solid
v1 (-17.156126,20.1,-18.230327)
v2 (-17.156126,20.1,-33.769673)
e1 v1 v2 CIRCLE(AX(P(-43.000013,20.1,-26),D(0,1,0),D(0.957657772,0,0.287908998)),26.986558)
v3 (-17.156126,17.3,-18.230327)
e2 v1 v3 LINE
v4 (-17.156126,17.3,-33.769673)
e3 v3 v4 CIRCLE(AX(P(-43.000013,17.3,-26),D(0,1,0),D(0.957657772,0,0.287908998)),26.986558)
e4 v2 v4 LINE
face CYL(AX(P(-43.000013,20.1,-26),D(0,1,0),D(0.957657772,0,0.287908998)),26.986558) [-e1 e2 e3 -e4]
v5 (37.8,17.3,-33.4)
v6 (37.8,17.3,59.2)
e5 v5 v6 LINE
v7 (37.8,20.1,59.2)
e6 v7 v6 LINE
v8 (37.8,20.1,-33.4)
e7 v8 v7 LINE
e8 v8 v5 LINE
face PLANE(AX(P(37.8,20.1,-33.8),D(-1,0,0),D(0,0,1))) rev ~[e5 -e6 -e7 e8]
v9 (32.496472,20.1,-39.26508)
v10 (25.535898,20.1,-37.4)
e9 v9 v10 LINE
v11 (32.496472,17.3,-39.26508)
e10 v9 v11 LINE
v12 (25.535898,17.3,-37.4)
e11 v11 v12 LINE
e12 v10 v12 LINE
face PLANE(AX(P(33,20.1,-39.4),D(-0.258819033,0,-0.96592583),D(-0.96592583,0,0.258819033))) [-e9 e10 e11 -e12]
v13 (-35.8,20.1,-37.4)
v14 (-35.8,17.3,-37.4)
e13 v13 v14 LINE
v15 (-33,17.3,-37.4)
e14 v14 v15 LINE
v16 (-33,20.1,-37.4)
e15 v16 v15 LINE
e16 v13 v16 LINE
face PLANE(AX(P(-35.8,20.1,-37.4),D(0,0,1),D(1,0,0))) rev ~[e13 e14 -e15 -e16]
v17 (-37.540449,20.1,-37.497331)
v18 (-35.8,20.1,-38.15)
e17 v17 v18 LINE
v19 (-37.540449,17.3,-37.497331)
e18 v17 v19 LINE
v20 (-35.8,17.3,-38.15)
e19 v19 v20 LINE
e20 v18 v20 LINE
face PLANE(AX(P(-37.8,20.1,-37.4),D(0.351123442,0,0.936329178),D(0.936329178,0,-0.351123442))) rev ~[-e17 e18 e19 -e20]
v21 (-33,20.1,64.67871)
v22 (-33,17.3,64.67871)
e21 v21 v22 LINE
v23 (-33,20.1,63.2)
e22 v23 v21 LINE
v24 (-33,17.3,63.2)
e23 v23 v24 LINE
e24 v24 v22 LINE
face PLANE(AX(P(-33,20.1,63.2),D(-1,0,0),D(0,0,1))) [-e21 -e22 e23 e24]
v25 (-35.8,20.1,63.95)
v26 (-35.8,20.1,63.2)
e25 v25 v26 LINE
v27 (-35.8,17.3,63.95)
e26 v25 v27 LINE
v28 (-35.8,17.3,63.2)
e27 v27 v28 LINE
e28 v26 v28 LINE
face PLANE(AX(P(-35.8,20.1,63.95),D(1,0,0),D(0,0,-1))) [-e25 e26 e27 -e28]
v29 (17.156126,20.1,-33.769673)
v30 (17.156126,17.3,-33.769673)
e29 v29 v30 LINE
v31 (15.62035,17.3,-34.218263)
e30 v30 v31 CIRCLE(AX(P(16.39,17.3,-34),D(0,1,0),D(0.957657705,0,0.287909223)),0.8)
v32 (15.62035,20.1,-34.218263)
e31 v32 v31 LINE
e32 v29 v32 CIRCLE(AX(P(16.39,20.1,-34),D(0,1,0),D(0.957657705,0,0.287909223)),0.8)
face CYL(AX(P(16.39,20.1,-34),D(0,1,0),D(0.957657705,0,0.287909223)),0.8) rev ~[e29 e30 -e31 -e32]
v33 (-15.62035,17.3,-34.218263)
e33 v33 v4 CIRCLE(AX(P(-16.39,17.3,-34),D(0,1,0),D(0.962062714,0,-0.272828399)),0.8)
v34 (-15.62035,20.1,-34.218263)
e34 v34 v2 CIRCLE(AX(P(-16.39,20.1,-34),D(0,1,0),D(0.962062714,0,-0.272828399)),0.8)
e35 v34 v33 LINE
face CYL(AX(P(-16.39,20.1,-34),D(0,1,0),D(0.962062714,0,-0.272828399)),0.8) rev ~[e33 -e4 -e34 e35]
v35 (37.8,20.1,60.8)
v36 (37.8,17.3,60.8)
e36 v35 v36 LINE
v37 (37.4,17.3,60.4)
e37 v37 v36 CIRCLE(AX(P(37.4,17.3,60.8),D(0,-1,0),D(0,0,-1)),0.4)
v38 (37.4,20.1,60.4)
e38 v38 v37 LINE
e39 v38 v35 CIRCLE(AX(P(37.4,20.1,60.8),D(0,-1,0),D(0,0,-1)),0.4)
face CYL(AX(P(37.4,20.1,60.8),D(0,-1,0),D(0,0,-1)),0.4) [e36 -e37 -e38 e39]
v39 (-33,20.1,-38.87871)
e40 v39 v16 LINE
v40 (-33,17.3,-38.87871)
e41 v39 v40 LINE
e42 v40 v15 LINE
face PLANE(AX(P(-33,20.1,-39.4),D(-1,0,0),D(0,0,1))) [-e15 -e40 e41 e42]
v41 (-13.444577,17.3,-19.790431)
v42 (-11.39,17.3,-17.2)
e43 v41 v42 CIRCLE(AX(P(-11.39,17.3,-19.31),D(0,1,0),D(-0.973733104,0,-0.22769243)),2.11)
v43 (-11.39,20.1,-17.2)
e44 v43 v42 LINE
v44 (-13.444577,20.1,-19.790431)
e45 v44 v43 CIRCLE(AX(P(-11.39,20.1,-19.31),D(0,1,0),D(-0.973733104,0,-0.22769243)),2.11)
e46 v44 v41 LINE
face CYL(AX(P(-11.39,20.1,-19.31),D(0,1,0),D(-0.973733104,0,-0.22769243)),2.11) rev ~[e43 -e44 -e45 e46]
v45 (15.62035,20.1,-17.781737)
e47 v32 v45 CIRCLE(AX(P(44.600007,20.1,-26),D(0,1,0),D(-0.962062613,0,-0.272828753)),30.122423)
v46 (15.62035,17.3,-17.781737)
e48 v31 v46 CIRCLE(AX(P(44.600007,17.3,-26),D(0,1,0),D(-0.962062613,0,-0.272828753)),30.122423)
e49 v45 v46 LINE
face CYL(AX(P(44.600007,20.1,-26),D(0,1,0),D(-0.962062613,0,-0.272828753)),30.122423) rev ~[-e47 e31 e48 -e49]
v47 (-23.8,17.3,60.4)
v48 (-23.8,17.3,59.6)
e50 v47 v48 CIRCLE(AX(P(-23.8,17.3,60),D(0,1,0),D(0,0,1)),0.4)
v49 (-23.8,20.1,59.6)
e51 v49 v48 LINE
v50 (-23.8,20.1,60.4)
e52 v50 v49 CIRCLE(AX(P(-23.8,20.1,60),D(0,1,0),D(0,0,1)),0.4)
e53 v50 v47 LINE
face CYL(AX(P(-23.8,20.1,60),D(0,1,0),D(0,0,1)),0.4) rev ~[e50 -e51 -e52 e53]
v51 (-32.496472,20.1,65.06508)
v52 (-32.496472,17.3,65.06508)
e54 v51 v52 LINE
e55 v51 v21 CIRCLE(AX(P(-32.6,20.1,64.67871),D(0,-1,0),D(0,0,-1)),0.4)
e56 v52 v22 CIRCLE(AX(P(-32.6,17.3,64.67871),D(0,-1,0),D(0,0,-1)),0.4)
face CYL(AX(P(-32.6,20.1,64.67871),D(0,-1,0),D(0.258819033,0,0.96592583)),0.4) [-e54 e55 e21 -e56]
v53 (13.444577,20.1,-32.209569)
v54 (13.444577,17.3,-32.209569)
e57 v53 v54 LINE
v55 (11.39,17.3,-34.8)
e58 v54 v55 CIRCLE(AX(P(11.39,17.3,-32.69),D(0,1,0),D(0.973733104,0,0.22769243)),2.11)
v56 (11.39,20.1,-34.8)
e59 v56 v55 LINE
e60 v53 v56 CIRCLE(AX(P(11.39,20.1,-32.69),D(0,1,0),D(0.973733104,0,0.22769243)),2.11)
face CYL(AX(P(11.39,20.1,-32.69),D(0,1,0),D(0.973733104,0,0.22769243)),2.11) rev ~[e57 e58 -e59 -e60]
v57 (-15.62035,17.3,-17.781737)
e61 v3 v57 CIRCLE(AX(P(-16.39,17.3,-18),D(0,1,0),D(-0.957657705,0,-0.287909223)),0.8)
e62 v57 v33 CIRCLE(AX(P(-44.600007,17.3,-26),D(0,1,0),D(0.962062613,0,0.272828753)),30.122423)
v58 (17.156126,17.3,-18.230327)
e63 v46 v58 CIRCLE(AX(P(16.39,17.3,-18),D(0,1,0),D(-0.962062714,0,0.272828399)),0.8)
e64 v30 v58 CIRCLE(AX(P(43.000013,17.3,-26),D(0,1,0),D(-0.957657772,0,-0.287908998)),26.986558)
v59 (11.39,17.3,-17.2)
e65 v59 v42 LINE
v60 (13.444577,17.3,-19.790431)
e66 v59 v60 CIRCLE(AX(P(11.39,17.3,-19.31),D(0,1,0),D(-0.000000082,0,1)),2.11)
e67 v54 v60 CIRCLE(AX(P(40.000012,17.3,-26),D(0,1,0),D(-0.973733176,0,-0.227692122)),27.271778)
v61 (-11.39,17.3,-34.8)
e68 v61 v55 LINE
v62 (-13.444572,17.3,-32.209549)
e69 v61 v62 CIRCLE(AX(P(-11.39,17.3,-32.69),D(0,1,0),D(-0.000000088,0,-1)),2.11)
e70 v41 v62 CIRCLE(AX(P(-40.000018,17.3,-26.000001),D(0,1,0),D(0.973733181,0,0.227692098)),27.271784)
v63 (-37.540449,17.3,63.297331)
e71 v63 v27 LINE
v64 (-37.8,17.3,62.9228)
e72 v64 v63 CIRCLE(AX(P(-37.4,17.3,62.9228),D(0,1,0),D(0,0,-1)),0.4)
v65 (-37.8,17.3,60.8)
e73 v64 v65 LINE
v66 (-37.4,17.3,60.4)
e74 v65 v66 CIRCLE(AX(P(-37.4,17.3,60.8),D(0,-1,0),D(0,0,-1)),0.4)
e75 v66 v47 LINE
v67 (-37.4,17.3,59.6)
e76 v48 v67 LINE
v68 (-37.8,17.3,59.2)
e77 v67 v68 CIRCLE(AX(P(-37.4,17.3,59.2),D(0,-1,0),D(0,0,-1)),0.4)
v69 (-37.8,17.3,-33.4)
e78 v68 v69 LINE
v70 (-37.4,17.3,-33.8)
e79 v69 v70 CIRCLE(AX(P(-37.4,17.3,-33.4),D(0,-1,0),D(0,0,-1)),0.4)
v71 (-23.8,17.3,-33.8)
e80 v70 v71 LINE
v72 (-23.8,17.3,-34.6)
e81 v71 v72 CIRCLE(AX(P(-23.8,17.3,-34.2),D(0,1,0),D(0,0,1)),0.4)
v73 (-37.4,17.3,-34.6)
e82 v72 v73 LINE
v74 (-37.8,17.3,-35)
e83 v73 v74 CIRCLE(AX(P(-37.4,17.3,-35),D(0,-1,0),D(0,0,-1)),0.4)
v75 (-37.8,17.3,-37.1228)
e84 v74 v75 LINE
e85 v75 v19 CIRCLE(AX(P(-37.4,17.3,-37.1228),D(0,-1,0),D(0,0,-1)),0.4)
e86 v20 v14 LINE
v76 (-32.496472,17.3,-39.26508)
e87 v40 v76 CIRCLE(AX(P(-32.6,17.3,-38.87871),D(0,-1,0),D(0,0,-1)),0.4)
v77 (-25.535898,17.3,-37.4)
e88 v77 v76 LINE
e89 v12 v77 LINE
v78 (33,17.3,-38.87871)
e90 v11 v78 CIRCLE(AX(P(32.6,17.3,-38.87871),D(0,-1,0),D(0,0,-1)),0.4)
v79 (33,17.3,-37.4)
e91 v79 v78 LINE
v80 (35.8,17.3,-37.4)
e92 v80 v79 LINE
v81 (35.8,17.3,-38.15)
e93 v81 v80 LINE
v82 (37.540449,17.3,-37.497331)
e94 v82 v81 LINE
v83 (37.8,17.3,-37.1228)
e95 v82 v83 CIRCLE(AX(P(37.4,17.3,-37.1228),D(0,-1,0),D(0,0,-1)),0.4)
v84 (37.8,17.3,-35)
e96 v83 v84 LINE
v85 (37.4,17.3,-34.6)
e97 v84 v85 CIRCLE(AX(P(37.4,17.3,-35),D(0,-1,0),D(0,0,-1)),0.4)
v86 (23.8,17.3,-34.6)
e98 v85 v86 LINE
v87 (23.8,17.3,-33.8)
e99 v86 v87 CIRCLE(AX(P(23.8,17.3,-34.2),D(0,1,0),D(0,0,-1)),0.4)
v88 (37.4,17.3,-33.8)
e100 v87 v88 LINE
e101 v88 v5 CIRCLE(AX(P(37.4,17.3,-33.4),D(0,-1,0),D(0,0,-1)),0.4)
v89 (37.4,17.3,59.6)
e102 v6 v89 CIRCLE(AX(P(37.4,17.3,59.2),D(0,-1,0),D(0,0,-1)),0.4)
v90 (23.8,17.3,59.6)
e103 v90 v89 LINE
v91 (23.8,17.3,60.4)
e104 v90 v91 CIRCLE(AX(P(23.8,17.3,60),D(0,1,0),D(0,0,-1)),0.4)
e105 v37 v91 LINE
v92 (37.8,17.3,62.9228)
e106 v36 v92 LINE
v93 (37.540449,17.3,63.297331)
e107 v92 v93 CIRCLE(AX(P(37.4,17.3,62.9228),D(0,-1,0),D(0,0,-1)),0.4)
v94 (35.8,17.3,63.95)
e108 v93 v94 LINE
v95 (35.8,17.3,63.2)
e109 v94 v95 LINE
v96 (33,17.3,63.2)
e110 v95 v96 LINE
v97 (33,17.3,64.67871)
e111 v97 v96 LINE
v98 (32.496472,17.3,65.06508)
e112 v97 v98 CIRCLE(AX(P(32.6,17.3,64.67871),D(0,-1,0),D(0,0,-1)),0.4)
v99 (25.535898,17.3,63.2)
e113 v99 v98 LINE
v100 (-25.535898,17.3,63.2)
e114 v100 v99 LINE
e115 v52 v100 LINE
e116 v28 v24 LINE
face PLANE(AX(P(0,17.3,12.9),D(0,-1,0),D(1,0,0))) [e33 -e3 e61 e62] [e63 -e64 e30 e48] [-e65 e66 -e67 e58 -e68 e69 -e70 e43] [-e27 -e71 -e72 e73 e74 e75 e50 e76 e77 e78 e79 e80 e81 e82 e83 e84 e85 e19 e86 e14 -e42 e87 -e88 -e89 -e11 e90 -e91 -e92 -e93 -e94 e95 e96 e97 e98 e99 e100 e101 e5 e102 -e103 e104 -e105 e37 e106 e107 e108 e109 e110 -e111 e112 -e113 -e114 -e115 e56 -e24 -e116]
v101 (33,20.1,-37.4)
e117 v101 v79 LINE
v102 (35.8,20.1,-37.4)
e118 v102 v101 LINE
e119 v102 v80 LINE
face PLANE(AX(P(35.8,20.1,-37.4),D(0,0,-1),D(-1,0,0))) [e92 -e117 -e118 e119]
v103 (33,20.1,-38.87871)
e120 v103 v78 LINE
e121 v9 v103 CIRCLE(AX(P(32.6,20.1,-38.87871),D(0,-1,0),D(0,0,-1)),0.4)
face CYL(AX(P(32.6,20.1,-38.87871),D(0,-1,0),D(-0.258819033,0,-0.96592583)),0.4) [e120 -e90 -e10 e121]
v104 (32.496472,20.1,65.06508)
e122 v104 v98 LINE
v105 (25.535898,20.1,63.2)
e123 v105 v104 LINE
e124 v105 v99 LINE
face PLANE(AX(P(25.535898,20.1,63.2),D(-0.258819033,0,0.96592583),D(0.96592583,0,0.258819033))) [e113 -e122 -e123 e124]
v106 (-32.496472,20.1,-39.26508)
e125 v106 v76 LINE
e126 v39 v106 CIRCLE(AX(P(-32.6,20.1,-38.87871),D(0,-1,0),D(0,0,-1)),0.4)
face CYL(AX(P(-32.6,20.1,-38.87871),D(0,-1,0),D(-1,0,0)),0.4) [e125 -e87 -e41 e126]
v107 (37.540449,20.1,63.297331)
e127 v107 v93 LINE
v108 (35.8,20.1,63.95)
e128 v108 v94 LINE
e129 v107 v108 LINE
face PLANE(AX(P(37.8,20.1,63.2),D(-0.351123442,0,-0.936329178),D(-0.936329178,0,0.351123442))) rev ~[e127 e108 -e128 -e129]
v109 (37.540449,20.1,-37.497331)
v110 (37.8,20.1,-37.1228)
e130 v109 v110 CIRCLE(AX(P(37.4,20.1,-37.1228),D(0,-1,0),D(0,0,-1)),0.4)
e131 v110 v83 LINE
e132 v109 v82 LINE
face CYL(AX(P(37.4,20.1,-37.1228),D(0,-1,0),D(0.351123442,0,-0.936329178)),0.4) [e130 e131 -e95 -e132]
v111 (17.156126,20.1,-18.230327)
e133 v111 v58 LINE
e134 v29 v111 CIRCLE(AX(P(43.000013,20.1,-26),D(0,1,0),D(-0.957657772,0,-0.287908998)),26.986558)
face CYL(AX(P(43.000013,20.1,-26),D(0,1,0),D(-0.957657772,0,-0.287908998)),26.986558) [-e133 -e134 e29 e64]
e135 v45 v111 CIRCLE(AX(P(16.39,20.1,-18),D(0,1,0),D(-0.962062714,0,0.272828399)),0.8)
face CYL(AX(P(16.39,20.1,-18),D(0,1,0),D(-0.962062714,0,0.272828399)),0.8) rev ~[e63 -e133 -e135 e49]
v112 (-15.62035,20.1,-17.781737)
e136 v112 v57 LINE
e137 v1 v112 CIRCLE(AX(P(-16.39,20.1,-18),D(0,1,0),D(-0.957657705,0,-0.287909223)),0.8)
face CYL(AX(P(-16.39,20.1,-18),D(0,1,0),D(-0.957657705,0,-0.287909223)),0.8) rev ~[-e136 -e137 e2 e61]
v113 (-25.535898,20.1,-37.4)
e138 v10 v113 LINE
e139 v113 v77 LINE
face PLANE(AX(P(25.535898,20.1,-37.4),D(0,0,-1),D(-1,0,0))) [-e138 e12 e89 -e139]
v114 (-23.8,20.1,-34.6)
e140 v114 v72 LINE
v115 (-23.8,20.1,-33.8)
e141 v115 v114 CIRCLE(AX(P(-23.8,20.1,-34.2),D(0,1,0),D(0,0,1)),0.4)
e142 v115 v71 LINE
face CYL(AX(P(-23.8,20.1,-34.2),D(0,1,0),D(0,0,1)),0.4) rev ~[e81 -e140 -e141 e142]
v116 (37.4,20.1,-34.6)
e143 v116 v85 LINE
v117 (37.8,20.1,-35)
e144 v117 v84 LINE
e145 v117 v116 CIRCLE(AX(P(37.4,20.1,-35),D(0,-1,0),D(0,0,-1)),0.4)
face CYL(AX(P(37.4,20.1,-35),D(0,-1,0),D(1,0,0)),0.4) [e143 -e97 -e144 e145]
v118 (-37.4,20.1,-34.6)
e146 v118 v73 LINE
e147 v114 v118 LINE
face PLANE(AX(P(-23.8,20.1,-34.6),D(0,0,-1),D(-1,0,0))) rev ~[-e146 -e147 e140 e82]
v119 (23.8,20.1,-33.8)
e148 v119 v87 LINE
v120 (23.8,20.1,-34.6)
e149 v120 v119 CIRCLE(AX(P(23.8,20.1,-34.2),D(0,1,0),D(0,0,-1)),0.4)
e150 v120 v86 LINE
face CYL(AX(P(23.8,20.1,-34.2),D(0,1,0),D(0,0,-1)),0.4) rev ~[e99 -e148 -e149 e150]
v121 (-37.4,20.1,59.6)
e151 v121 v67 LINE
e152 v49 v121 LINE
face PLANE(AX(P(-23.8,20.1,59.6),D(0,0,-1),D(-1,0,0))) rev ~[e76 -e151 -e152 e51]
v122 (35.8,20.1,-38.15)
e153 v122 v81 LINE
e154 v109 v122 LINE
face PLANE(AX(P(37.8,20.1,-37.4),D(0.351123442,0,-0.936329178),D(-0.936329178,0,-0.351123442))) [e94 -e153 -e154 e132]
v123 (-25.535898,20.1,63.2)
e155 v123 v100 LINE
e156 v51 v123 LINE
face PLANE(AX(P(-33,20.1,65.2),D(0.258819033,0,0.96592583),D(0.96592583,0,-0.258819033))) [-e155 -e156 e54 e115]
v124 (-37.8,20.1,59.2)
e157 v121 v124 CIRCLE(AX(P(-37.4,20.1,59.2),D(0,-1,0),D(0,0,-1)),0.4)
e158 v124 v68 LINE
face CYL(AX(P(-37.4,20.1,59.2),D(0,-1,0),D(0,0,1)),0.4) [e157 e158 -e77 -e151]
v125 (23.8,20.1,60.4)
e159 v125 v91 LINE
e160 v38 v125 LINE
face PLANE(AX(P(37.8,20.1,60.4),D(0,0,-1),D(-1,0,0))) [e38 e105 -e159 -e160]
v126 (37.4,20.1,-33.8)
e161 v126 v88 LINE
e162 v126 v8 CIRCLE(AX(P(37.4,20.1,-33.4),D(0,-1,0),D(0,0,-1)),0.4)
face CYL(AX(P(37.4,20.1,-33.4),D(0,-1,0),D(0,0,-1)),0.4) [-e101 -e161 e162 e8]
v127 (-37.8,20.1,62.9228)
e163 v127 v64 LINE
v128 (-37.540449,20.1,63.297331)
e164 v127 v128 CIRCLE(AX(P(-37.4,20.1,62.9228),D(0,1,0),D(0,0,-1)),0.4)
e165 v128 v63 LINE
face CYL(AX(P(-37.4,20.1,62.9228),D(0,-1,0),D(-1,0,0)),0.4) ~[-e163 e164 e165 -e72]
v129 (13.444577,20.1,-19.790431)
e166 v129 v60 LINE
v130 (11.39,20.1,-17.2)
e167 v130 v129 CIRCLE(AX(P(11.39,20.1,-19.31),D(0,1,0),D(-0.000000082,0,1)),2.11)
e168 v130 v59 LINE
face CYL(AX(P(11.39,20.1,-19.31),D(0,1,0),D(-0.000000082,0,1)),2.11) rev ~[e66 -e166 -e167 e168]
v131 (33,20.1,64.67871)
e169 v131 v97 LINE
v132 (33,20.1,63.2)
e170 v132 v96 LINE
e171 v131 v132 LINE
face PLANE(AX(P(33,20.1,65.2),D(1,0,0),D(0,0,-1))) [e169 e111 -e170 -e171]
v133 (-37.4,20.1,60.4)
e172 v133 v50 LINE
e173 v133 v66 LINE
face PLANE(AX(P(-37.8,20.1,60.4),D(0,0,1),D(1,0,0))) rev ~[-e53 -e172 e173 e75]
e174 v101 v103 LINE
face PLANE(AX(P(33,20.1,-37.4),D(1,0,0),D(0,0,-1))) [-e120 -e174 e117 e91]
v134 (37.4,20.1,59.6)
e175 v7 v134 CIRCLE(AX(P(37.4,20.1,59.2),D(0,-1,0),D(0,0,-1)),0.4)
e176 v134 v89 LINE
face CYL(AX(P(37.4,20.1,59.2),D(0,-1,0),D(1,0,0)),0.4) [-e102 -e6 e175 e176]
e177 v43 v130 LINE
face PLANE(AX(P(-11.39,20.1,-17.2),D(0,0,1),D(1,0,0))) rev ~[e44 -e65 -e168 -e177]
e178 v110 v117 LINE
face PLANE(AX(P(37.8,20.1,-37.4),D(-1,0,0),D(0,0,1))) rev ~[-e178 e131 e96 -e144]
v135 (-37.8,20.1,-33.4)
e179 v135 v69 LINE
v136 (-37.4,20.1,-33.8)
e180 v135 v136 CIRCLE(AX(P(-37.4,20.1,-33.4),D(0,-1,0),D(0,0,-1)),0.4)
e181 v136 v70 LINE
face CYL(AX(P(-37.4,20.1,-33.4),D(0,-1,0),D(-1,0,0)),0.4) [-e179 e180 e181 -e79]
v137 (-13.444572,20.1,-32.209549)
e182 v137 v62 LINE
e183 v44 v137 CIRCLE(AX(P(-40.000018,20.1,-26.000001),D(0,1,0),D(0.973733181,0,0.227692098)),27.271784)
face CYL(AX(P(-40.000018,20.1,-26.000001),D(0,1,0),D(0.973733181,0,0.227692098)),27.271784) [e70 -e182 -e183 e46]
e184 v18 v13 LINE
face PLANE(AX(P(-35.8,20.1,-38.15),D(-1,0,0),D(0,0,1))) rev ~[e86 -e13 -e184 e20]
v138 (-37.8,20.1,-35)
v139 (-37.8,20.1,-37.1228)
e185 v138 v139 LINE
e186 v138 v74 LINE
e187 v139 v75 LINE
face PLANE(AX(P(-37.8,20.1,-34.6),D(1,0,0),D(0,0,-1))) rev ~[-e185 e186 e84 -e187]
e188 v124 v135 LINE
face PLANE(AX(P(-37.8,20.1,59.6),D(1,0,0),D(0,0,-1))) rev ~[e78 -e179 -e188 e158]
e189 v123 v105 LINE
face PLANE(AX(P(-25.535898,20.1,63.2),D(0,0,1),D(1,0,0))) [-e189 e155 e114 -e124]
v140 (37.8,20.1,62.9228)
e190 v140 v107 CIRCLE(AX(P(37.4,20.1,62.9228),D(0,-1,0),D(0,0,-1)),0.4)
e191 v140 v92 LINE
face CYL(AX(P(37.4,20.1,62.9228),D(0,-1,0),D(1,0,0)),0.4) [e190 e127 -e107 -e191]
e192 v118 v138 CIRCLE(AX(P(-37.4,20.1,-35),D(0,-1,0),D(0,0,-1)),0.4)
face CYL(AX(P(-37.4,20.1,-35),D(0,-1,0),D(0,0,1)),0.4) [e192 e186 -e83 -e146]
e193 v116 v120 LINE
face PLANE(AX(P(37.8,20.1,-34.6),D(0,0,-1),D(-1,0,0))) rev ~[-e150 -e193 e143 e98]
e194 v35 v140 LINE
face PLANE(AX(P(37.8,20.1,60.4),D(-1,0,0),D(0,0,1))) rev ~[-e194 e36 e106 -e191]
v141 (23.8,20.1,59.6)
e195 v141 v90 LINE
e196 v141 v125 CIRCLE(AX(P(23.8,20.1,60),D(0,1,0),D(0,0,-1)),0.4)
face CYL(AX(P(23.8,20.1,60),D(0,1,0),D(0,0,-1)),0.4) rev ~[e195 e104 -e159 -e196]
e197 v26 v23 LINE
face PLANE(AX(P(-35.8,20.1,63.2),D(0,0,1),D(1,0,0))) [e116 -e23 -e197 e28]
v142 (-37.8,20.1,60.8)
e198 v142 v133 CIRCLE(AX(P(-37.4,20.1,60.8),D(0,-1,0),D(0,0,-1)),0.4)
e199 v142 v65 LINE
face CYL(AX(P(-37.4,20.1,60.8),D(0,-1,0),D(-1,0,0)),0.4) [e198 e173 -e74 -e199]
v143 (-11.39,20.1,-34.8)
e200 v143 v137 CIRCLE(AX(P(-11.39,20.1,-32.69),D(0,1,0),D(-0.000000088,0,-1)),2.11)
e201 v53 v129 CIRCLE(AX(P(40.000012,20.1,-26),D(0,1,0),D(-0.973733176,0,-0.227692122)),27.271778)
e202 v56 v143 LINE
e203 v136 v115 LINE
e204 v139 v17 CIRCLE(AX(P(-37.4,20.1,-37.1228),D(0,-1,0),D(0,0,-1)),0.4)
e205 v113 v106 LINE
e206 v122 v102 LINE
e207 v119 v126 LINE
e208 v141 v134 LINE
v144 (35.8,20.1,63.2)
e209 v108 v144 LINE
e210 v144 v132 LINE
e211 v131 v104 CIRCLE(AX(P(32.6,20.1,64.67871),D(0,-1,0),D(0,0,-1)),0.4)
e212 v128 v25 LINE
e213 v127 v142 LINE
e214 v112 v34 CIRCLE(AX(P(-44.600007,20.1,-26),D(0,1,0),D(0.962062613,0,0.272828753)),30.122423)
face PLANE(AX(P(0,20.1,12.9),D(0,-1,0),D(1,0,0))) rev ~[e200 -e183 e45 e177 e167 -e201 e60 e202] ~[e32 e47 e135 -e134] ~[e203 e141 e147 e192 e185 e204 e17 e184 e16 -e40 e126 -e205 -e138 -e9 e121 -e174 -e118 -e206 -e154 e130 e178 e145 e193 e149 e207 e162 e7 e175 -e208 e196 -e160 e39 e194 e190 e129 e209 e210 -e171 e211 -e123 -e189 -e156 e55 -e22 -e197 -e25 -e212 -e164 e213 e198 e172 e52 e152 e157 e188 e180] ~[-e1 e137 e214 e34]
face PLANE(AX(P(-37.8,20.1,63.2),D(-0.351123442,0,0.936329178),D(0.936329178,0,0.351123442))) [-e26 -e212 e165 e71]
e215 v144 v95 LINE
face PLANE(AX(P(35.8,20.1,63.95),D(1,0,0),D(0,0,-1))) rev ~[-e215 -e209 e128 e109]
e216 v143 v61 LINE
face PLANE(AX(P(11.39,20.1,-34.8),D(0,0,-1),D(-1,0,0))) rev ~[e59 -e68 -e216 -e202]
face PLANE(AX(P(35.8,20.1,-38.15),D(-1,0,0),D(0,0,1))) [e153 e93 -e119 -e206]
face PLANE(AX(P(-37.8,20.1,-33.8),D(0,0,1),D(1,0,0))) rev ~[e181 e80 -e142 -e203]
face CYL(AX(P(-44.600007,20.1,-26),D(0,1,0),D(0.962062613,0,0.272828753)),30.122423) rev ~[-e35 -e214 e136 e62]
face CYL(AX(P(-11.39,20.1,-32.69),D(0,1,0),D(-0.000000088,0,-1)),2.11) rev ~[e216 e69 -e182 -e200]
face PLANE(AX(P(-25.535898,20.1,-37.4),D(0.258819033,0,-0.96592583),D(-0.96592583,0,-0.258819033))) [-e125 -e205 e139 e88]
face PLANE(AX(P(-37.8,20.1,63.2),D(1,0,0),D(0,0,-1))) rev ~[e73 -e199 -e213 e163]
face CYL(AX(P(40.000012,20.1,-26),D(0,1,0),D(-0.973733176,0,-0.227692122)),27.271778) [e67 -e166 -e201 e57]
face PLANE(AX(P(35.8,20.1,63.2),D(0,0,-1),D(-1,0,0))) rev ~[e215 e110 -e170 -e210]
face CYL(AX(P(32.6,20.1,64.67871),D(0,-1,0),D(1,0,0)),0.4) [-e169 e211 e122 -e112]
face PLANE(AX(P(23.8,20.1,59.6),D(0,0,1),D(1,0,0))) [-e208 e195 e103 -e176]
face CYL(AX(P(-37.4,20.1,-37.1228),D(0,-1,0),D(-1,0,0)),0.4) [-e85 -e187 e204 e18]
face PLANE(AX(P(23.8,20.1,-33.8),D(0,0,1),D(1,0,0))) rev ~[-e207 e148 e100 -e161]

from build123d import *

# Parameters (mm, degrees)
PAD008_DEPTH = 2.8
FILLET001_R  = 0.4
POCKET_DEPTH = 2.801


with BuildPart() as part:
    # Sketch008 (on Face4 of ShapeBinder007) → Pad008 (new body)
    with BuildSketch(Plane(origin=(0, 20.1, 0), x_dir=(-1, 0, 0), z_dir=(0, 1, 0))):
        with BuildLine():
            Line((37.8, 63.2), (37.8, 60.4))
            Line((37.8, 60.4), (23.8, 60.4))
            ThreePointArc((23.8, 60.4), (23.4, 60), (23.8, 59.6))
            Line((23.8, 59.6), (37.8, 59.6))
            Line((37.8, 59.6), (37.8, -33.8))
            Line((37.8, -33.8), (23.8, -33.8))
            ThreePointArc((23.8, -33.8), (23.4, -34.2), (23.8, -34.6))
            Line((23.8, -34.6), (37.8, -34.6))
            Line((37.8, -34.6), (37.8, -37.4))
            Line((37.8, -37.4), (35.8, -38.15))
            Line((35.8, -38.15), (35.8, -37.4))
            Line((35.8, -37.4), (33, -37.4))
            Line((33, -39.4), (33, -37.4))
            Line((25.535898, -37.4), (33, -39.4))
            Line((-25.535898, -37.4), (25.535898, -37.4))
            Line((-33, -39.4), (-25.535898, -37.4))
            Line((-33, -37.4), (-33, -39.4))
            Line((-35.8, -37.4), (-33, -37.4))
            Line((-35.8, -38.15), (-35.8, -37.4))
            Line((-37.8, -37.4), (-35.8, -38.15))
            Line((-37.8, -37.4), (-37.8, -34.6))
            Line((-37.8, -34.6), (-23.8, -34.6))
            ThreePointArc((-23.8, -34.6), (-23.4, -34.2), (-23.8, -33.8))
            Line((-23.8, -33.8), (-37.8, -33.8))
            Line((-37.8, -33.8), (-37.8, 59.6))
            Line((-23.8, 59.6), (-37.8, 59.6))
            ThreePointArc((-23.8, 59.6), (-23.4, 60), (-23.8, 60.4))
            Line((-37.8, 60.4), (-23.8, 60.4))
            Line((-37.8, 60.4), (-37.8, 63.2))
            Line((-37.8, 63.2), (-35.8, 63.95))
            Line((-35.8, 63.95), (-35.8, 63.2))
            Line((-35.8, 63.2), (-33, 63.2))
            Line((-33, 65.2), (-33, 63.2))
            Line((-25.535898, 63.2), (-33, 65.2))
            Line((25.535898, 63.2), (-25.535898, 63.2))
            Line((33, 65.2), (25.535898, 63.2))
            Line((33, 63.2), (33, 65.2))
            Line((35.8, 63.2), (33, 63.2))
            Line((35.8, 63.95), (35.8, 63.2))
            Line((37.8, 63.2), (35.8, 63.95))
        make_face()
    extrude(amount=-PAD008_DEPTH)

    # Fillet001
    fillet001_edges = [part.edges().sort_by_distance(p)[0] for p in [
        (-33, 18.7, 65.2),
        (-37.8, 18.7, 63.2),
        (-37.8, 18.7, 60.4),
        (-37.8, 18.7, 59.6),
        (-37.8, 18.7, -33.8),
        (-37.8, 18.7, -34.6),
        (-37.8, 18.7, -37.4),
        (-33, 18.7, -39.4),
        (33, 18.7, 65.2),
        (37.8, 18.7, 63.2),
        (37.8, 18.7, 60.4),
        (37.8, 18.7, 59.6),
        (37.8, 18.7, -33.8),
        (37.8, 18.7, -34.6),
        (37.8, 18.7, -37.4),
        (33, 18.7, -39.4),
    ]]
    fillet(fillet001_edges, radius=FILLET001_R)

    # Sketch029 (on Face2 of Fillet001) → Pocket (cut, through all)
    with BuildSketch(Plane(origin=(0, 20.1, 0), x_dir=(-1, 0, 0), z_dir=(0, 1, 0))):
        with BuildLine():
            Line((-11.39, -34.8), (11.39, -34.8))
            ThreePointArc((11.39, -34.8), (13.043156, -34.001173), (13.444572, -32.209549))
            ThreePointArc((13.444577, -19.790431), (12.728234, -25.99999), (13.444572, -32.209549))
            ThreePointArc((13.444577, -19.790431), (13.04315, -17.998819), (11.39, -17.2))
            Line((11.39, -17.2), (-11.39, -17.2))
            ThreePointArc((-11.39, -17.2), (-13.04315, -17.998819), (-13.444577, -19.790431))
            ThreePointArc((-13.444577, -32.209569), (-12.728234, -26), (-13.444577, -19.790431))
            ThreePointArc((-13.444577, -32.209569), (-13.04315, -34.001181), (-11.39, -34.8))
        make_face()
        with BuildLine():
            ThreePointArc((-15.62035, -17.781737), (-16.614302, -17.232088), (-17.156126, -18.230327))
            ThreePointArc((-17.156126, -33.769673), (-16.013455, -26), (-17.156126, -18.230327))
            ThreePointArc((-17.156126, -33.769673), (-16.614302, -34.767912), (-15.62035, -34.218263))
            ThreePointArc((-15.62035, -34.218263), (-14.477584, -26), (-15.62035, -17.781737))
        make_face()
        with BuildLine():
            ThreePointArc((17.156126, -18.230327), (16.614302, -17.232088), (15.62035, -17.781737))
            ThreePointArc((15.62035, -17.781737), (14.477584, -26), (15.62035, -34.218263))
            ThreePointArc((15.62035, -34.218263), (16.614302, -34.767912), (17.156126, -33.769673))
            ThreePointArc((17.156126, -18.230327), (16.013455, -26), (17.156126, -33.769673))
        make_face()
    extrude(amount=-POCKET_DEPTH, mode=Mode.SUBTRACT)


solid = part.part
